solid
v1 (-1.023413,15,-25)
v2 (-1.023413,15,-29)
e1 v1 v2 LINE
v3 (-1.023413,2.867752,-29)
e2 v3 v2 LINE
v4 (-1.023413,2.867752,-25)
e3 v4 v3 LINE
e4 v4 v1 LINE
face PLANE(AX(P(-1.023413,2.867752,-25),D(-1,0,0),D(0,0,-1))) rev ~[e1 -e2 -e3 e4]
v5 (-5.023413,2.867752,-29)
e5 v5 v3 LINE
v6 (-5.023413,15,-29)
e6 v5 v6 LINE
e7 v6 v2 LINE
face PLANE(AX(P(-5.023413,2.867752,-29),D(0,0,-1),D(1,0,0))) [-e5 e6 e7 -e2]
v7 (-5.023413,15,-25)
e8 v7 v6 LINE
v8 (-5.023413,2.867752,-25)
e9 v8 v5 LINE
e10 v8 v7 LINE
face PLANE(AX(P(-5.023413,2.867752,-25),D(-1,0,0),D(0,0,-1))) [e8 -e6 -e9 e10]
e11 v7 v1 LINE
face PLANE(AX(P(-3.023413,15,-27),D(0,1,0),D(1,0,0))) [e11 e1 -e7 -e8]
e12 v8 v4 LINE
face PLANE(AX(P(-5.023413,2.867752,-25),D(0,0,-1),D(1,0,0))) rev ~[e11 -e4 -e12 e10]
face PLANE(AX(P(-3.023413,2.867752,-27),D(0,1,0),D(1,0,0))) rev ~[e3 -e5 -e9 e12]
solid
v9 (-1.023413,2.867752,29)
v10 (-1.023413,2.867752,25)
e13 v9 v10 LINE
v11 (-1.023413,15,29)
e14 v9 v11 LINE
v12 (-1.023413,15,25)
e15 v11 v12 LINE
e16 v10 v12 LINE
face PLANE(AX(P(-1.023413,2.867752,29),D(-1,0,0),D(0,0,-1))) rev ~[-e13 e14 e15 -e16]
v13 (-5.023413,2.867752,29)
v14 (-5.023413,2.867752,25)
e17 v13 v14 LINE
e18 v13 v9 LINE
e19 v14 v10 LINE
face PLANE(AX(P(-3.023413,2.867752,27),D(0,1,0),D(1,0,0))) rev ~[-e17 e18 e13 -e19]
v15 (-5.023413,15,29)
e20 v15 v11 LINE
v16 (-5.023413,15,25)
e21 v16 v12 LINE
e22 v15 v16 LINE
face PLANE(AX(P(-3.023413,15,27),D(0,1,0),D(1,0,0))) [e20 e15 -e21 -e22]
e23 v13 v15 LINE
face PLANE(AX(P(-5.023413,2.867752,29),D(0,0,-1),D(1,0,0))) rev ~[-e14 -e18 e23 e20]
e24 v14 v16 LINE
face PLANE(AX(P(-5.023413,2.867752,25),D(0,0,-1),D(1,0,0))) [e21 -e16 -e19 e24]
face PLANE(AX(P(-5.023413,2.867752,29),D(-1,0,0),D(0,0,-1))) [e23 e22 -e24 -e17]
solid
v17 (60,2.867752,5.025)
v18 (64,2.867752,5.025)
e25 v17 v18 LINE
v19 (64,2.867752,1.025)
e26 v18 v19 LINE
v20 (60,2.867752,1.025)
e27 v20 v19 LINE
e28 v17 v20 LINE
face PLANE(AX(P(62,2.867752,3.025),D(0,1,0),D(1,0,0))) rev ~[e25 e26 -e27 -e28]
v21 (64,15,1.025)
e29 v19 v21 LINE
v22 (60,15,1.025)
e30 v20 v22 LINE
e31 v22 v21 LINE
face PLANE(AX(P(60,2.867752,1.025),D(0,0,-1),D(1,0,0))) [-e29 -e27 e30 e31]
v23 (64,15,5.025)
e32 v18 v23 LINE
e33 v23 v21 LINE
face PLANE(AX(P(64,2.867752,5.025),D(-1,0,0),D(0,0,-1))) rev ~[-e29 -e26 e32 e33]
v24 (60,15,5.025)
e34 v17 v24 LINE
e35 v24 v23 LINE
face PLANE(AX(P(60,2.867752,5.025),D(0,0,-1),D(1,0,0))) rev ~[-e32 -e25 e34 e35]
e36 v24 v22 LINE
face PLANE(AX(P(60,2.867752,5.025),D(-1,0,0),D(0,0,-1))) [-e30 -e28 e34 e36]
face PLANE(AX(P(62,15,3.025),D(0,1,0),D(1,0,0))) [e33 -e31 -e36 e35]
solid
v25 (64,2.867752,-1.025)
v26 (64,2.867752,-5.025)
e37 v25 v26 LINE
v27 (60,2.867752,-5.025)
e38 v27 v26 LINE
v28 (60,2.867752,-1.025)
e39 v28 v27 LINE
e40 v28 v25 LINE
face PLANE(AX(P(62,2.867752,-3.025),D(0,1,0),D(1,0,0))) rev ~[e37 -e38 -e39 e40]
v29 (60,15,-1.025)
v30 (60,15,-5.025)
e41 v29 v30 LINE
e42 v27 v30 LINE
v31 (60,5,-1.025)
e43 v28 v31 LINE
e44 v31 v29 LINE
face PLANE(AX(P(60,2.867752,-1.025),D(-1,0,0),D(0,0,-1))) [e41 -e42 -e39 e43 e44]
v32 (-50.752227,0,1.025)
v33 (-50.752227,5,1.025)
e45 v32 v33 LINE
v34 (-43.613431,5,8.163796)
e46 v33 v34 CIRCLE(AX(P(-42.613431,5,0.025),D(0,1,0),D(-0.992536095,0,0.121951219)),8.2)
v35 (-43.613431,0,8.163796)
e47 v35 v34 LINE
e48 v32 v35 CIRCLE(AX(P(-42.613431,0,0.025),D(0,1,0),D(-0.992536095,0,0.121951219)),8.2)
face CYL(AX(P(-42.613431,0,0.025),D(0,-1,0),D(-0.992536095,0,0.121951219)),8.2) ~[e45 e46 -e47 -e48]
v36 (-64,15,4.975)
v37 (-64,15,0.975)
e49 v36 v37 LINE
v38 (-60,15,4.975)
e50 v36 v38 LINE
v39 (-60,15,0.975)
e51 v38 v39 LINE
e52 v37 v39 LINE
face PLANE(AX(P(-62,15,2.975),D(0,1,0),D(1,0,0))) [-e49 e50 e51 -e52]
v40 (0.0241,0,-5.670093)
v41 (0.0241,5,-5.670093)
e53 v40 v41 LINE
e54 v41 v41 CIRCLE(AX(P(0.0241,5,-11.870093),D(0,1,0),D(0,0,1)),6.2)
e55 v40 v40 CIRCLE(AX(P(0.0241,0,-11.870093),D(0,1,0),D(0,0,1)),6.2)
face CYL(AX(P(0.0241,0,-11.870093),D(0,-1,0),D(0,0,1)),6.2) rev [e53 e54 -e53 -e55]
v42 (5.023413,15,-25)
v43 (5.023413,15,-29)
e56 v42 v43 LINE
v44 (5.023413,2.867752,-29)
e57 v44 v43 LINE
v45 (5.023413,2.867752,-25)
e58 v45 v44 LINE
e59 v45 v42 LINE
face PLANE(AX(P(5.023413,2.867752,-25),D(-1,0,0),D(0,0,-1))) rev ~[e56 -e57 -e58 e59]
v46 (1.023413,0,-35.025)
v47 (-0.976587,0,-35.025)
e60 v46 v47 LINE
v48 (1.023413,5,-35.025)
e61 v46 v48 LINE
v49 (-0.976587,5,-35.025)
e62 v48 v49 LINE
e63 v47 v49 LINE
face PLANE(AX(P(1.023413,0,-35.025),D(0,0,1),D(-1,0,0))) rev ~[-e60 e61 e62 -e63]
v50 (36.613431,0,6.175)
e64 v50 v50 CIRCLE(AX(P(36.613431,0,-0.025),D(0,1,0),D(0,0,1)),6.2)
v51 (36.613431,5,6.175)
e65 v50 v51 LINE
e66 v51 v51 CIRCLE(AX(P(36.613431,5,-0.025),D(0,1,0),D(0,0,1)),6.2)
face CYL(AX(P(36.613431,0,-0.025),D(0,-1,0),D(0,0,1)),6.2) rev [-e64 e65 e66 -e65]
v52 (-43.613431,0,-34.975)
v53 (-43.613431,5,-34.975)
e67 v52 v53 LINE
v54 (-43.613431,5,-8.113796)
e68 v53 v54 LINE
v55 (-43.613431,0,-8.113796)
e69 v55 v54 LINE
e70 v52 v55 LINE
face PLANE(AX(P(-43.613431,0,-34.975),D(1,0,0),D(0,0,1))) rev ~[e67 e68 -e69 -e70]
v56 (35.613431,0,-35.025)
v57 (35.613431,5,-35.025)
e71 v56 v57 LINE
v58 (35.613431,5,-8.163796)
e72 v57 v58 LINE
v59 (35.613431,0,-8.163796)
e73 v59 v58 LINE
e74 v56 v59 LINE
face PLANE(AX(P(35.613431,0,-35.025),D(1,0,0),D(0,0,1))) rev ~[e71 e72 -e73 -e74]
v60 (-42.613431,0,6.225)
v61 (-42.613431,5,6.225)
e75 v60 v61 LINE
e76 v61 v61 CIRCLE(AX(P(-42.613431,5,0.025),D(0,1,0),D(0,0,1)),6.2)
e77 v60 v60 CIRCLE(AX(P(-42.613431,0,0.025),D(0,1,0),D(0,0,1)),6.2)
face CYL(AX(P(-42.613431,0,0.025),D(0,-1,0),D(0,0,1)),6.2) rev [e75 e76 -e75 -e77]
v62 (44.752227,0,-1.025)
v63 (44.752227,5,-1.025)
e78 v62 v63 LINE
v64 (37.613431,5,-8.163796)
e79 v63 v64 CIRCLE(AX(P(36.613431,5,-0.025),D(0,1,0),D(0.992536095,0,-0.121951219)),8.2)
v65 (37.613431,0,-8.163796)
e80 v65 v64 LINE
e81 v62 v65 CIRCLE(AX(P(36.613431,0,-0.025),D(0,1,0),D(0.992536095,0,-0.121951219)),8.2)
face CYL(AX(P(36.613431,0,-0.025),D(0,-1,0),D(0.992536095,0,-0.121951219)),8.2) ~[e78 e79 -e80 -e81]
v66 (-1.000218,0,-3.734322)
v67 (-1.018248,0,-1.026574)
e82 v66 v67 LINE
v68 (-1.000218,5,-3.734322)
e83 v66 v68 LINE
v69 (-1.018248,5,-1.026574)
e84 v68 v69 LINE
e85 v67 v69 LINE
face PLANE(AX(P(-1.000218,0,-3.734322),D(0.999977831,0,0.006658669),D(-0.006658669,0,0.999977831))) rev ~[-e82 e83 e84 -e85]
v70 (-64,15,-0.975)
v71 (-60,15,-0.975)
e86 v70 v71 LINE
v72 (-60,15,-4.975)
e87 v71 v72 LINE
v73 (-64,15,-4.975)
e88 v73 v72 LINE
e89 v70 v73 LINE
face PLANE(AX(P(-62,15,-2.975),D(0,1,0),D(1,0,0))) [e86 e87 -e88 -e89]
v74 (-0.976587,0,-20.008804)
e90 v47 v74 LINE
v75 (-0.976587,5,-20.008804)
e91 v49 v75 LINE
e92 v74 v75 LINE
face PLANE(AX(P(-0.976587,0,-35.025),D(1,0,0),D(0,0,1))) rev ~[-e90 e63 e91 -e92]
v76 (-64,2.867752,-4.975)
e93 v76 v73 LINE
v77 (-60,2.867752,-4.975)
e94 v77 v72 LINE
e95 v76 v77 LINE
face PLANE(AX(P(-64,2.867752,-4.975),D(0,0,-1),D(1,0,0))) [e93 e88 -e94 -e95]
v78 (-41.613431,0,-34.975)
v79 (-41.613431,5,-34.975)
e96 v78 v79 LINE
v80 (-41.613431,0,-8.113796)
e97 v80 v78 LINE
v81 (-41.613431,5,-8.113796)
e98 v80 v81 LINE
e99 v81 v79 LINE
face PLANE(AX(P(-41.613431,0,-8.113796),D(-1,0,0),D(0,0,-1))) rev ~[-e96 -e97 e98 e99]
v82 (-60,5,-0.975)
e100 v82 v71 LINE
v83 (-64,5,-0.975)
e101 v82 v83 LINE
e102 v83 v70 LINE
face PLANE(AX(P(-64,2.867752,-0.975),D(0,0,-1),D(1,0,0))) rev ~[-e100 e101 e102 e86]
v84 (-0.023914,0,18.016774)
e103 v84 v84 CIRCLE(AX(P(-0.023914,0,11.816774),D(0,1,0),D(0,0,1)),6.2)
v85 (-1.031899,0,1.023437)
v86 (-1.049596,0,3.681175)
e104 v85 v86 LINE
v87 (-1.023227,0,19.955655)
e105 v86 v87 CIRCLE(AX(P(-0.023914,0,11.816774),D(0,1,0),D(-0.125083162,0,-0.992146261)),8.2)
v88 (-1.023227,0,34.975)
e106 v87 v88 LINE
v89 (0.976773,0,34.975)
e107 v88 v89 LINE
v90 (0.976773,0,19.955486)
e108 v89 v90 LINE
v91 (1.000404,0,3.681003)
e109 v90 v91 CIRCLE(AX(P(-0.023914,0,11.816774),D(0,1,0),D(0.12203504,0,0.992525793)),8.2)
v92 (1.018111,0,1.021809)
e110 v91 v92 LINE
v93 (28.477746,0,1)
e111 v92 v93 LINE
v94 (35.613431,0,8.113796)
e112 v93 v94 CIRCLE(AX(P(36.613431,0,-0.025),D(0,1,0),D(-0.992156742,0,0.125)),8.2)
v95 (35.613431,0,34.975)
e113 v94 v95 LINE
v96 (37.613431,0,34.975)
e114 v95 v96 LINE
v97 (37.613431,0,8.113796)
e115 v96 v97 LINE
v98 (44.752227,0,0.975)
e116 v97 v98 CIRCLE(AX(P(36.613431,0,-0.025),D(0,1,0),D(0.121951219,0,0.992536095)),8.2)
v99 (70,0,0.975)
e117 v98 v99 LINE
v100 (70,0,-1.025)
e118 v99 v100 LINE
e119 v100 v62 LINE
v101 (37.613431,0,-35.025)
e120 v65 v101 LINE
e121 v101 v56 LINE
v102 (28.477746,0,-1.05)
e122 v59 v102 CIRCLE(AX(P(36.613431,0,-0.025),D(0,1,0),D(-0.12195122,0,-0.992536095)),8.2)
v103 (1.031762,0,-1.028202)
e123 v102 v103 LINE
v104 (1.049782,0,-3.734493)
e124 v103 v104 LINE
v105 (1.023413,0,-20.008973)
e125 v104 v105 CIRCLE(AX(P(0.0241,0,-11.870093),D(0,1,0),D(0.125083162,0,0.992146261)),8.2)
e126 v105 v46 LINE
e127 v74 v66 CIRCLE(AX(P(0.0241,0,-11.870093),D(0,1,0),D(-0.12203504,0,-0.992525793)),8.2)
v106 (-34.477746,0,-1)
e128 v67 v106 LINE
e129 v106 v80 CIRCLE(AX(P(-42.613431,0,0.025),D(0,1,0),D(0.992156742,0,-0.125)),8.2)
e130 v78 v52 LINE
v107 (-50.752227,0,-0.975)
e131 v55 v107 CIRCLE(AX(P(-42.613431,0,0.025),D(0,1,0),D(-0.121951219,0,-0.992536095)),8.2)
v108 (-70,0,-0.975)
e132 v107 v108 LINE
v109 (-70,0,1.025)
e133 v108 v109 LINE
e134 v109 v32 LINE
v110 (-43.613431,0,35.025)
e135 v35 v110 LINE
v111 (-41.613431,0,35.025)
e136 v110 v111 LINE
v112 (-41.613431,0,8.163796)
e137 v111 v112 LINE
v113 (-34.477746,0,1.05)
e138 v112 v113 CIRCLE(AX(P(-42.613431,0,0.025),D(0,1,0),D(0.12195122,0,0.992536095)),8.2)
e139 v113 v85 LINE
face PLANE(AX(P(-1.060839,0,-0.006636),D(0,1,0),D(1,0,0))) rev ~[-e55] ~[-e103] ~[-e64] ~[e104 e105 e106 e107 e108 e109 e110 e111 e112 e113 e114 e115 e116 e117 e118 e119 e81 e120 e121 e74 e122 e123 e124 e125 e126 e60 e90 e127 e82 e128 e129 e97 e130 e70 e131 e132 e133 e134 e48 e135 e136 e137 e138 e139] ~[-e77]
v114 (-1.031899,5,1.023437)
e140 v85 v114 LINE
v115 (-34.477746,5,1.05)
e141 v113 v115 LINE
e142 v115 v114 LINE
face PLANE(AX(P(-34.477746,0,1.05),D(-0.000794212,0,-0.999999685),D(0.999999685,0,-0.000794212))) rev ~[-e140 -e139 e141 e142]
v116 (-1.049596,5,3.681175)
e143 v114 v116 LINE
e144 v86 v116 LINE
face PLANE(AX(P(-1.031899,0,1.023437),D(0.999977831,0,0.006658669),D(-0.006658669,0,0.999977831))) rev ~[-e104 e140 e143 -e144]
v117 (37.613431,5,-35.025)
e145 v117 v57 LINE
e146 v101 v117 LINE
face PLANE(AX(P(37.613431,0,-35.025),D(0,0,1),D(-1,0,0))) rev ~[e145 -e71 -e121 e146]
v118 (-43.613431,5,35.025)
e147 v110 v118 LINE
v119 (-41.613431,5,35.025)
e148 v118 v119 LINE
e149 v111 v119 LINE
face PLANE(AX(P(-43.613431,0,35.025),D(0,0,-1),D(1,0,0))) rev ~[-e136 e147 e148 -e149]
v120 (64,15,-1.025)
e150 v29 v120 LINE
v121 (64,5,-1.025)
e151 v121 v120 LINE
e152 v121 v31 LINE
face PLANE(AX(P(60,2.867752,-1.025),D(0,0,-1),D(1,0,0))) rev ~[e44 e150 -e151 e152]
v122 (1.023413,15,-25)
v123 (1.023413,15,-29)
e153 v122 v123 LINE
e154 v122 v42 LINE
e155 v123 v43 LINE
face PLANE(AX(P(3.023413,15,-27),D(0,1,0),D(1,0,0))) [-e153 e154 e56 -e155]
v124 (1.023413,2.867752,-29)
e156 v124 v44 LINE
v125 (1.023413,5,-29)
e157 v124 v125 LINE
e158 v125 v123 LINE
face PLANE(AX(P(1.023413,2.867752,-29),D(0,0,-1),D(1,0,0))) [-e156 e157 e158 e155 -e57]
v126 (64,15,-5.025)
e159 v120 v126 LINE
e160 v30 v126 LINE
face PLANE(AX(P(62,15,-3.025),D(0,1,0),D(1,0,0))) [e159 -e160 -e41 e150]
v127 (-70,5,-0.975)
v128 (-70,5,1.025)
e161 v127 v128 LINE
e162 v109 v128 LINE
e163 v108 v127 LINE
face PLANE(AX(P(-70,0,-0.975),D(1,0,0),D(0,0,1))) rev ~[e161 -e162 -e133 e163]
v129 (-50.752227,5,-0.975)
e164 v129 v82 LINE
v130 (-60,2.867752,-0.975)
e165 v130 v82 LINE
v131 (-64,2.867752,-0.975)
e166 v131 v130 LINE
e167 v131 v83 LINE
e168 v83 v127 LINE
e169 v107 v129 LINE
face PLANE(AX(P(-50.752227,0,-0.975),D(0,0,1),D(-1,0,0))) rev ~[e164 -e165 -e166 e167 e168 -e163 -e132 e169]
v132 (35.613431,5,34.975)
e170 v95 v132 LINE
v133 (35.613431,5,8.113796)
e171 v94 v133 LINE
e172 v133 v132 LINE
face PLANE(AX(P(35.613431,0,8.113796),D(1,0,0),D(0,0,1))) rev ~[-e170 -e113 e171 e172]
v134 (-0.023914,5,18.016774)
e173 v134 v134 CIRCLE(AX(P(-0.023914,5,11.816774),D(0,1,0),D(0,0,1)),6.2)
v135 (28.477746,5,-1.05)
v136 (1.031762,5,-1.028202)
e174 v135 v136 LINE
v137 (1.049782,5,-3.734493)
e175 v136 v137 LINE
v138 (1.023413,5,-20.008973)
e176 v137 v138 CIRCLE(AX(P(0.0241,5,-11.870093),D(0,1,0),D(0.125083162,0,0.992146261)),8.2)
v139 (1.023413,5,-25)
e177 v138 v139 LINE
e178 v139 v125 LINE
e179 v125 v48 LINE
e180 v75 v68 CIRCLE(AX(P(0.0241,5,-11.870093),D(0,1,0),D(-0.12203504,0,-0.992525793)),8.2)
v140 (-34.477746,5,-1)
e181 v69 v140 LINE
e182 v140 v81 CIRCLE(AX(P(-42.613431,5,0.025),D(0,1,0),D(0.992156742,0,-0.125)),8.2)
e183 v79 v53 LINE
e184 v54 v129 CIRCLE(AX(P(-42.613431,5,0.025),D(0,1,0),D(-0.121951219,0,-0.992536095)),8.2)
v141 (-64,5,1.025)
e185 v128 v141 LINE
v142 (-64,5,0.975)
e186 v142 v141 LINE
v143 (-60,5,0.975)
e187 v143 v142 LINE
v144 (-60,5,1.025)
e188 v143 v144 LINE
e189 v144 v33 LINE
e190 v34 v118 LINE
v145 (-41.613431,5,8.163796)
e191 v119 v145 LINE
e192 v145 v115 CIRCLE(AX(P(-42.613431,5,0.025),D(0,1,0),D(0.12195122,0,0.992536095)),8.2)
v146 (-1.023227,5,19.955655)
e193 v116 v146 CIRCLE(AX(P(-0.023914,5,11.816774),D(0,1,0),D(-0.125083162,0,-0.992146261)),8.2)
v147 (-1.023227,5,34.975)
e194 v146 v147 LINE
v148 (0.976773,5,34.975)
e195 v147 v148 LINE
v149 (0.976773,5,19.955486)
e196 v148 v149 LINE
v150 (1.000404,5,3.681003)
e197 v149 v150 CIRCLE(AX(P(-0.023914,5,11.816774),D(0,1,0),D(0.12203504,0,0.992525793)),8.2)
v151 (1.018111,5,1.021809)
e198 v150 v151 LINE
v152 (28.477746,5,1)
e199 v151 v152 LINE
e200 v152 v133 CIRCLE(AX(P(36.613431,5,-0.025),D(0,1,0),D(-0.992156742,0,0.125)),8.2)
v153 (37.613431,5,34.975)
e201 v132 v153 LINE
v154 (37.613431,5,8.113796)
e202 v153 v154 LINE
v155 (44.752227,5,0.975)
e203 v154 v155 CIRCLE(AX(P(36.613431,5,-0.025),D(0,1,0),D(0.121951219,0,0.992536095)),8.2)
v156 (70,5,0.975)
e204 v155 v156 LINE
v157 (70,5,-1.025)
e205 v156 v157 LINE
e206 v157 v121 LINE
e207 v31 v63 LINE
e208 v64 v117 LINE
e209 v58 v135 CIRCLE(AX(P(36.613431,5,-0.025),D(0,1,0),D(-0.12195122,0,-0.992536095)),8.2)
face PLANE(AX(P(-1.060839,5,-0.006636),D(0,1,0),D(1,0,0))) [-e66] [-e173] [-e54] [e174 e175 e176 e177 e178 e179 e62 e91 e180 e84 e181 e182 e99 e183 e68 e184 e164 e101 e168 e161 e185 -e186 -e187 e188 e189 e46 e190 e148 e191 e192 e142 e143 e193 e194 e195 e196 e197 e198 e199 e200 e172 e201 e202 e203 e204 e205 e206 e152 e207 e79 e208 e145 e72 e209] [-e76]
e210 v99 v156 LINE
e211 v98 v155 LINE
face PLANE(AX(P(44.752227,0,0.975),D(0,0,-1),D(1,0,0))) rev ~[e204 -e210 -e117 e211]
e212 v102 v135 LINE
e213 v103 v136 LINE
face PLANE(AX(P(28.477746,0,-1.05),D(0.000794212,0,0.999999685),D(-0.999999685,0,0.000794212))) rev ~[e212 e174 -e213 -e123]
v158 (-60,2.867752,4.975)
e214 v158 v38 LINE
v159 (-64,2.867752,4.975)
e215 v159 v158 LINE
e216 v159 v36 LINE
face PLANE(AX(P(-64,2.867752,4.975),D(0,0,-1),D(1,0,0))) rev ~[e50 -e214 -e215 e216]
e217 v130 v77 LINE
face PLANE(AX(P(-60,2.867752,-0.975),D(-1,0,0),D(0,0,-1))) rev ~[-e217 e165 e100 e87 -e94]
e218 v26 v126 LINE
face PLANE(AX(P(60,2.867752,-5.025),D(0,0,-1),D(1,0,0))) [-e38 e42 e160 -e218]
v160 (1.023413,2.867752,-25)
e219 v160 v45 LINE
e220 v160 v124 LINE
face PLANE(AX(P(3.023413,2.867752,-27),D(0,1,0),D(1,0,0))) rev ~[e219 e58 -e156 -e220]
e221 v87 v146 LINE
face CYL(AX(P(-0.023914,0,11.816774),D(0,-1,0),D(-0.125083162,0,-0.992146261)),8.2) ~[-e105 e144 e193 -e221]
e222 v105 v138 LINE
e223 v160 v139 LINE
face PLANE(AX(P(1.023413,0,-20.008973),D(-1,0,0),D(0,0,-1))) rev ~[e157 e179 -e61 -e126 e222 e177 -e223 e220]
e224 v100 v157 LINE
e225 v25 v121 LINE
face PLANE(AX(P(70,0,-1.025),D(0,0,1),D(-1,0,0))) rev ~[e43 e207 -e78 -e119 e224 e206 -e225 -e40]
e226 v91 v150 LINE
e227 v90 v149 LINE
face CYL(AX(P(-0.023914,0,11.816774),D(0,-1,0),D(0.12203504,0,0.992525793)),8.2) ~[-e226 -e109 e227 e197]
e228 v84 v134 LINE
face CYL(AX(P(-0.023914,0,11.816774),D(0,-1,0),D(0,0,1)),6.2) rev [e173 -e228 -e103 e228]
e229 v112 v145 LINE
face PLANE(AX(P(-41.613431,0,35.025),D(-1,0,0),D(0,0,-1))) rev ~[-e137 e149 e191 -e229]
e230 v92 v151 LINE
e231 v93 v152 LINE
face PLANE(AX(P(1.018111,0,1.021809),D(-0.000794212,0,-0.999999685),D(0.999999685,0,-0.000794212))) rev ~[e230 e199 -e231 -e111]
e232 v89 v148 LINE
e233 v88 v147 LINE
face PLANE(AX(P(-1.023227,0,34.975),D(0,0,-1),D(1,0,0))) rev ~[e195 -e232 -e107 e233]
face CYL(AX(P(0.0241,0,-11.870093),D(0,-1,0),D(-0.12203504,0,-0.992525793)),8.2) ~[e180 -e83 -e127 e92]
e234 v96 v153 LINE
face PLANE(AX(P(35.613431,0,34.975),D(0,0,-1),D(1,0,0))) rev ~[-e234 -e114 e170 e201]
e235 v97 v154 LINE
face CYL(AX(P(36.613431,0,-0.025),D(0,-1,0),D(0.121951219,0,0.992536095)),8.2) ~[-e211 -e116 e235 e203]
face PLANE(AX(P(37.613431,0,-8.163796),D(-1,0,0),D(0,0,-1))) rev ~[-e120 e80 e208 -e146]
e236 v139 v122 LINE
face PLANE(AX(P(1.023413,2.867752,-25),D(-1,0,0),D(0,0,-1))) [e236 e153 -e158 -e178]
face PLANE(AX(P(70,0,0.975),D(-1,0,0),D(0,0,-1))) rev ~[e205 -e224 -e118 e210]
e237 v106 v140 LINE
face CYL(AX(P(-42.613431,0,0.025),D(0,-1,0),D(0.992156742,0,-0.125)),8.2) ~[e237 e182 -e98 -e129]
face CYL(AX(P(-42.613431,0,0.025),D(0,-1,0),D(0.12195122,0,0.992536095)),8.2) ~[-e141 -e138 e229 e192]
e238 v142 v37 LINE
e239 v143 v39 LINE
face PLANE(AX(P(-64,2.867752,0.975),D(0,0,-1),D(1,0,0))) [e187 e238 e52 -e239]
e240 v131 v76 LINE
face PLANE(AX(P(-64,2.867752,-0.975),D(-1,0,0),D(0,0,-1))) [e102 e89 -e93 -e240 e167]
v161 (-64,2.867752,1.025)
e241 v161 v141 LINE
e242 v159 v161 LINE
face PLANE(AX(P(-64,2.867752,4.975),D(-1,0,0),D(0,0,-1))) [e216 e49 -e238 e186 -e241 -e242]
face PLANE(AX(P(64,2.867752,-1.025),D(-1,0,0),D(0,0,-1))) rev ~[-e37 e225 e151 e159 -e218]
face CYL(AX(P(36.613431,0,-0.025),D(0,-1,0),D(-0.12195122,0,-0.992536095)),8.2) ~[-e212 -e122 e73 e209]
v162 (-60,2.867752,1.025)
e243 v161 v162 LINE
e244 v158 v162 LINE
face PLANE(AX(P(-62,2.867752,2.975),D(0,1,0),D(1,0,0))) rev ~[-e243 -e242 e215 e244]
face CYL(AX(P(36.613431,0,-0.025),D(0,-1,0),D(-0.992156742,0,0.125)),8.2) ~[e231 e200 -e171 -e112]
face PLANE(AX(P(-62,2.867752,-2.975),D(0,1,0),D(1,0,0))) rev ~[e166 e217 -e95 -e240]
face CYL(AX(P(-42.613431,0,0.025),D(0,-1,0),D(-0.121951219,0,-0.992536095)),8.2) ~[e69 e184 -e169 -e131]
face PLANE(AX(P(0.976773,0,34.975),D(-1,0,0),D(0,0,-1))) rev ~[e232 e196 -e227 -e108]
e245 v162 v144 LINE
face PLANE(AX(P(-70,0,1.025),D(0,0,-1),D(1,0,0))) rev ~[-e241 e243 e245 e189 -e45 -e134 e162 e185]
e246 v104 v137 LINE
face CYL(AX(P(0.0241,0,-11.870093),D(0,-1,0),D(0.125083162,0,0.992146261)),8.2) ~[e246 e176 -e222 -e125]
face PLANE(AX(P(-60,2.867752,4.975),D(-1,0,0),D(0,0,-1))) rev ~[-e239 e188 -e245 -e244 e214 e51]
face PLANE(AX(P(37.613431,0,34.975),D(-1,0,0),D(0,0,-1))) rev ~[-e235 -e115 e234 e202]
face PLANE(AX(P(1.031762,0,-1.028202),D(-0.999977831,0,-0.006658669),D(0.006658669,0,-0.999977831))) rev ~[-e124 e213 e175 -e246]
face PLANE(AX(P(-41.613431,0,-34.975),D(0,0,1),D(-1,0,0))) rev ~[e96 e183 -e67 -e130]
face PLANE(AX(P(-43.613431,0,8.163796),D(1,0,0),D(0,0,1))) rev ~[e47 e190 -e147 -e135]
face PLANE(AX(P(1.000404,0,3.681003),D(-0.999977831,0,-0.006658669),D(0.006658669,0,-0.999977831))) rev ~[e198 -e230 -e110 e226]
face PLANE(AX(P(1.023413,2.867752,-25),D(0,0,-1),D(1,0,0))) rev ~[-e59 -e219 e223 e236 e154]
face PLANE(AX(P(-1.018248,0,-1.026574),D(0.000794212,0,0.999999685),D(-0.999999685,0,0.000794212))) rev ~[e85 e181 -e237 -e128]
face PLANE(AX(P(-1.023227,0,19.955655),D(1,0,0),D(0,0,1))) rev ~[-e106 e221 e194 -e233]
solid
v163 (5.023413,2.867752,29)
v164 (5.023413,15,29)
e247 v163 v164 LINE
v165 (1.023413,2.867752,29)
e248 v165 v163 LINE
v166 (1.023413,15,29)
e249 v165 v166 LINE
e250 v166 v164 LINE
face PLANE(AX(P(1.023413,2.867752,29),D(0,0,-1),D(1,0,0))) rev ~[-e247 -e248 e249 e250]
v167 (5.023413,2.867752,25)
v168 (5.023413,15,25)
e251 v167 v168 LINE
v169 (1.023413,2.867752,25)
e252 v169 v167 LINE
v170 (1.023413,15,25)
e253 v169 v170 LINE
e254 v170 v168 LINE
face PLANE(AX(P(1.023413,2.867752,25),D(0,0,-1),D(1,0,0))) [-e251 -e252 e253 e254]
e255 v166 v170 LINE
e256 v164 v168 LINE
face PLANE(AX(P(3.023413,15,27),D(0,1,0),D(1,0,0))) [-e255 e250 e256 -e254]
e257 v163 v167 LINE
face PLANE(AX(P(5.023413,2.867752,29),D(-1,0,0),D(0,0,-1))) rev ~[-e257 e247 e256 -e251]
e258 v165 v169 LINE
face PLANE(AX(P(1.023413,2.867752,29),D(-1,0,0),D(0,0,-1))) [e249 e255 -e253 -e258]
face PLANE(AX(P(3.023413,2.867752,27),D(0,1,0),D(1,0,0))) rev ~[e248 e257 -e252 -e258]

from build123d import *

# Parameters (mm, degrees)
SKETCH2_R                = 6.2
BOSS_EXTRUDE1_DEPTH      = 5
BOSS_EXTRUDE2_DEPTH      = 10
BOSS_EXTRUDE2_DEPTH_BACK = 2.132247663
SKETCH4_W                = 4
SKETCH4_H                = 4


with BuildPart() as part:
    # Sketch2 → Boss-Extrude1 (new body)
    with BuildSketch(Plane(origin=(0, 0, 0), x_dir=(1, 0, 0), z_dir=(0, 1, 0))):
        with BuildLine():
            Line((1.018110987, -1.021808769), (28.477746067, -1))
            ThreePointArc((28.477746067, -1), (30.824069579, -5.782175759), (35.613431348, -8.11379598))
            Line((35.613431348, -8.11379598), (35.613431348, -34.975))
            Line((35.613431348, -34.975), (37.613431348, -34.975))
            Line((37.613431348, -34.975), (37.613431348, -8.11379598))
            ThreePointArc((37.613431348, -8.11379598), (42.411706954, -5.773275606), (44.752227328, -0.975))
            Line((44.752227328, -0.975), (70, -0.975))
            Line((70, -0.975), (70, 1.025))
            Line((70, 1.025), (44.752227328, 1.025))
            ThreePointArc((44.752227328, 1.025), (42.411706954, 5.823275606), (37.613431348, 8.16379598))
            Line((37.613431348, 8.16379598), (37.613431348, 35.025))
            Line((37.613431348, 35.025), (35.613431348, 35.025))
            Line((35.613431348, 35.025), (35.613431348, 8.16379598))
            ThreePointArc((35.613431348, 8.16379598), (30.824069579, 5.832175759), (28.477746067, 1.05))
            Line((28.477746067, 1.05), (1.031761634, 1.028202073))
            Line((1.031761634, 1.028202073), (1.049782331, 3.73449335))
            ThreePointArc((1.049782331, 3.73449335), (8.224089635, 11.883378989), (1.023413071, 20.008973088))
            Line((1.023413071, 20.008973088), (1.023413071, 35.025))
            Line((1.023413071, 35.025), (-0.976586929, 35.025))
            Line((-0.976586929, 35.025), (-0.976586929, 20.008804187))
            ThreePointArc((-0.976586929, 20.008804187), (-8.175890957, 11.881999168), (-1.000217662, 3.734321519))
            Line((-1.000217662, 3.734321519), (-1.018248057, 1.026573931))
            Line((-1.018248057, 1.026573931), (-34.477746067, 1))
            ThreePointArc((-34.477746067, 1), (-36.824069579, 5.782175759), (-41.613431348, 8.11379598))
            Line((-41.613431348, 8.11379598), (-41.613431348, 34.975))
            Line((-41.613431348, 34.975), (-43.613431348, 34.975))
            Line((-43.613431348, 34.975), (-43.613431348, 8.11379598))
            ThreePointArc((-43.613431348, 8.11379598), (-48.411706954, 5.773275606), (-50.752227328, 0.975))
            Line((-50.752227328, 0.975), (-70, 0.975))
            Line((-70, 0.975), (-70, -1.025))
            Line((-70, -1.025), (-50.752227328, -1.025))
            ThreePointArc((-50.752227328, -1.025), (-48.411706954, -5.823275606), (-43.613431348, -8.16379598))
            Line((-43.613431348, -8.16379598), (-43.613431348, -35.025))
            Line((-43.613431348, -35.025), (-41.613431348, -35.025))
            Line((-41.613431348, -35.025), (-41.613431348, -8.16379598))
            ThreePointArc((-41.613431348, -8.16379598), (-36.824069579, -5.832175759), (-34.477746067, -1.05))
            Line((-34.477746067, -1.05), (-1.031898703, -1.023436911))
            Line((-1.031898703, -1.023436911), (-1.049596092, -3.68117478))
            ThreePointArc((-1.049596092, -3.68117478), (-8.223903396, -11.830060419), (-1.023226832, -19.955654518))
            Line((-1.023226832, -19.955654518), (-1.023226832, -34.975))
            Line((-1.023226832, -34.975), (0.976773168, -34.975))
            Line((0.976773168, -34.975), (0.976773168, -19.955485617))
            ThreePointArc((0.976773168, -19.955485617), (8.176077196, -11.828680597), (1.000403901, -3.681002948))
            Line((1.000403901, -3.681002948), (1.018110987, -1.021808769))
        make_face()
        with Locations(Location((-42.613431348, -0.025, 0), (0, 0, 270))):
            Circle(SKETCH2_R, mode=Mode.SUBTRACT)
        with Locations(Location((0.024100398, 11.870092687, 0), (0, 0, 270))):
            Circle(SKETCH2_R, mode=Mode.SUBTRACT)
        with Locations(Location((36.613431348, 0.025, 0), (0, 0, 270))):
            Circle(SKETCH2_R, mode=Mode.SUBTRACT)
        with Locations(Location((-0.023914159, -11.816774117, 0), (0, 0, 270))):
            Circle(SKETCH2_R, mode=Mode.SUBTRACT)
    extrude(amount=BOSS_EXTRUDE1_DEPTH)

    # Sketch4 → Boss-Extrude2 (add, two sides: drawn at the far end of the back side and taken through both)
    with BuildSketch(Plane(origin=(0, 5, 0), x_dir=(1, 0, 0), z_dir=(0, 1, 0)).offset(-BOSS_EXTRUDE2_DEPTH_BACK)):
        with Locations((3.023413071, 27)):
            Rectangle(SKETCH4_W, SKETCH4_H)
        with Locations((-62, 2.975)):
            Rectangle(SKETCH4_W, SKETCH4_H)
        with Locations((62, 3.025)):
            Rectangle(SKETCH4_W, SKETCH4_H)
        with Locations((62, -3.025)):
            Rectangle(SKETCH4_W, SKETCH4_H)
        with Locations((-3.023413071, 27)):
            Rectangle(SKETCH4_W, SKETCH4_H)
        with Locations((3.023413071, -27)):
            Rectangle(SKETCH4_W, SKETCH4_H)
        with Locations((-3.023413071, -27)):
            Rectangle(SKETCH4_W, SKETCH4_H)
        with Locations((-62, -2.975)):
            Rectangle(SKETCH4_W, SKETCH4_H)
    extrude(amount=BOSS_EXTRUDE2_DEPTH + BOSS_EXTRUDE2_DEPTH_BACK)


with BuildPart() as boss_extrude2_piece_1:
    # of the separate pieces the step leaves, piece 1, a body of its own (boss_extrude2_pieces)
    add(part.part.solids().sort_by_distance((-34.477746067, 0, 1.05))[0])


with BuildPart() as boss_extrude2_piece_2:
    # of the separate pieces the step leaves, piece 2, a body of its own (boss_extrude2_pieces)
    add(part.part.solids().sort_by_distance((64, 15, 5.025))[0])


with BuildPart() as boss_extrude2_piece_3:
    # of the separate pieces the step leaves, piece 3, a body of its own (boss_extrude2_pieces)
    add(part.part.solids().sort_by_distance((-1.023413071, 15, 29))[0])


with BuildPart() as boss_extrude2_piece_4:
    # of the separate pieces the step leaves, piece 4, a body of its own (boss_extrude2_pieces)
    add(part.part.solids().sort_by_distance((-1.023413071, 15, -25))[0])


with BuildPart() as boss_extrude2_piece_5:
    # of the separate pieces the step leaves, piece 5, a body of its own (boss_extrude2_pieces)
    add(part.part.solids().sort_by_distance((1.023413071, 15, 25))[0])


solid = Compound([boss_extrude2_piece_1.part, boss_extrude2_piece_2.part, boss_extrude2_piece_3.part, boss_extrude2_piece_4.part, boss_extrude2_piece_5.part])
